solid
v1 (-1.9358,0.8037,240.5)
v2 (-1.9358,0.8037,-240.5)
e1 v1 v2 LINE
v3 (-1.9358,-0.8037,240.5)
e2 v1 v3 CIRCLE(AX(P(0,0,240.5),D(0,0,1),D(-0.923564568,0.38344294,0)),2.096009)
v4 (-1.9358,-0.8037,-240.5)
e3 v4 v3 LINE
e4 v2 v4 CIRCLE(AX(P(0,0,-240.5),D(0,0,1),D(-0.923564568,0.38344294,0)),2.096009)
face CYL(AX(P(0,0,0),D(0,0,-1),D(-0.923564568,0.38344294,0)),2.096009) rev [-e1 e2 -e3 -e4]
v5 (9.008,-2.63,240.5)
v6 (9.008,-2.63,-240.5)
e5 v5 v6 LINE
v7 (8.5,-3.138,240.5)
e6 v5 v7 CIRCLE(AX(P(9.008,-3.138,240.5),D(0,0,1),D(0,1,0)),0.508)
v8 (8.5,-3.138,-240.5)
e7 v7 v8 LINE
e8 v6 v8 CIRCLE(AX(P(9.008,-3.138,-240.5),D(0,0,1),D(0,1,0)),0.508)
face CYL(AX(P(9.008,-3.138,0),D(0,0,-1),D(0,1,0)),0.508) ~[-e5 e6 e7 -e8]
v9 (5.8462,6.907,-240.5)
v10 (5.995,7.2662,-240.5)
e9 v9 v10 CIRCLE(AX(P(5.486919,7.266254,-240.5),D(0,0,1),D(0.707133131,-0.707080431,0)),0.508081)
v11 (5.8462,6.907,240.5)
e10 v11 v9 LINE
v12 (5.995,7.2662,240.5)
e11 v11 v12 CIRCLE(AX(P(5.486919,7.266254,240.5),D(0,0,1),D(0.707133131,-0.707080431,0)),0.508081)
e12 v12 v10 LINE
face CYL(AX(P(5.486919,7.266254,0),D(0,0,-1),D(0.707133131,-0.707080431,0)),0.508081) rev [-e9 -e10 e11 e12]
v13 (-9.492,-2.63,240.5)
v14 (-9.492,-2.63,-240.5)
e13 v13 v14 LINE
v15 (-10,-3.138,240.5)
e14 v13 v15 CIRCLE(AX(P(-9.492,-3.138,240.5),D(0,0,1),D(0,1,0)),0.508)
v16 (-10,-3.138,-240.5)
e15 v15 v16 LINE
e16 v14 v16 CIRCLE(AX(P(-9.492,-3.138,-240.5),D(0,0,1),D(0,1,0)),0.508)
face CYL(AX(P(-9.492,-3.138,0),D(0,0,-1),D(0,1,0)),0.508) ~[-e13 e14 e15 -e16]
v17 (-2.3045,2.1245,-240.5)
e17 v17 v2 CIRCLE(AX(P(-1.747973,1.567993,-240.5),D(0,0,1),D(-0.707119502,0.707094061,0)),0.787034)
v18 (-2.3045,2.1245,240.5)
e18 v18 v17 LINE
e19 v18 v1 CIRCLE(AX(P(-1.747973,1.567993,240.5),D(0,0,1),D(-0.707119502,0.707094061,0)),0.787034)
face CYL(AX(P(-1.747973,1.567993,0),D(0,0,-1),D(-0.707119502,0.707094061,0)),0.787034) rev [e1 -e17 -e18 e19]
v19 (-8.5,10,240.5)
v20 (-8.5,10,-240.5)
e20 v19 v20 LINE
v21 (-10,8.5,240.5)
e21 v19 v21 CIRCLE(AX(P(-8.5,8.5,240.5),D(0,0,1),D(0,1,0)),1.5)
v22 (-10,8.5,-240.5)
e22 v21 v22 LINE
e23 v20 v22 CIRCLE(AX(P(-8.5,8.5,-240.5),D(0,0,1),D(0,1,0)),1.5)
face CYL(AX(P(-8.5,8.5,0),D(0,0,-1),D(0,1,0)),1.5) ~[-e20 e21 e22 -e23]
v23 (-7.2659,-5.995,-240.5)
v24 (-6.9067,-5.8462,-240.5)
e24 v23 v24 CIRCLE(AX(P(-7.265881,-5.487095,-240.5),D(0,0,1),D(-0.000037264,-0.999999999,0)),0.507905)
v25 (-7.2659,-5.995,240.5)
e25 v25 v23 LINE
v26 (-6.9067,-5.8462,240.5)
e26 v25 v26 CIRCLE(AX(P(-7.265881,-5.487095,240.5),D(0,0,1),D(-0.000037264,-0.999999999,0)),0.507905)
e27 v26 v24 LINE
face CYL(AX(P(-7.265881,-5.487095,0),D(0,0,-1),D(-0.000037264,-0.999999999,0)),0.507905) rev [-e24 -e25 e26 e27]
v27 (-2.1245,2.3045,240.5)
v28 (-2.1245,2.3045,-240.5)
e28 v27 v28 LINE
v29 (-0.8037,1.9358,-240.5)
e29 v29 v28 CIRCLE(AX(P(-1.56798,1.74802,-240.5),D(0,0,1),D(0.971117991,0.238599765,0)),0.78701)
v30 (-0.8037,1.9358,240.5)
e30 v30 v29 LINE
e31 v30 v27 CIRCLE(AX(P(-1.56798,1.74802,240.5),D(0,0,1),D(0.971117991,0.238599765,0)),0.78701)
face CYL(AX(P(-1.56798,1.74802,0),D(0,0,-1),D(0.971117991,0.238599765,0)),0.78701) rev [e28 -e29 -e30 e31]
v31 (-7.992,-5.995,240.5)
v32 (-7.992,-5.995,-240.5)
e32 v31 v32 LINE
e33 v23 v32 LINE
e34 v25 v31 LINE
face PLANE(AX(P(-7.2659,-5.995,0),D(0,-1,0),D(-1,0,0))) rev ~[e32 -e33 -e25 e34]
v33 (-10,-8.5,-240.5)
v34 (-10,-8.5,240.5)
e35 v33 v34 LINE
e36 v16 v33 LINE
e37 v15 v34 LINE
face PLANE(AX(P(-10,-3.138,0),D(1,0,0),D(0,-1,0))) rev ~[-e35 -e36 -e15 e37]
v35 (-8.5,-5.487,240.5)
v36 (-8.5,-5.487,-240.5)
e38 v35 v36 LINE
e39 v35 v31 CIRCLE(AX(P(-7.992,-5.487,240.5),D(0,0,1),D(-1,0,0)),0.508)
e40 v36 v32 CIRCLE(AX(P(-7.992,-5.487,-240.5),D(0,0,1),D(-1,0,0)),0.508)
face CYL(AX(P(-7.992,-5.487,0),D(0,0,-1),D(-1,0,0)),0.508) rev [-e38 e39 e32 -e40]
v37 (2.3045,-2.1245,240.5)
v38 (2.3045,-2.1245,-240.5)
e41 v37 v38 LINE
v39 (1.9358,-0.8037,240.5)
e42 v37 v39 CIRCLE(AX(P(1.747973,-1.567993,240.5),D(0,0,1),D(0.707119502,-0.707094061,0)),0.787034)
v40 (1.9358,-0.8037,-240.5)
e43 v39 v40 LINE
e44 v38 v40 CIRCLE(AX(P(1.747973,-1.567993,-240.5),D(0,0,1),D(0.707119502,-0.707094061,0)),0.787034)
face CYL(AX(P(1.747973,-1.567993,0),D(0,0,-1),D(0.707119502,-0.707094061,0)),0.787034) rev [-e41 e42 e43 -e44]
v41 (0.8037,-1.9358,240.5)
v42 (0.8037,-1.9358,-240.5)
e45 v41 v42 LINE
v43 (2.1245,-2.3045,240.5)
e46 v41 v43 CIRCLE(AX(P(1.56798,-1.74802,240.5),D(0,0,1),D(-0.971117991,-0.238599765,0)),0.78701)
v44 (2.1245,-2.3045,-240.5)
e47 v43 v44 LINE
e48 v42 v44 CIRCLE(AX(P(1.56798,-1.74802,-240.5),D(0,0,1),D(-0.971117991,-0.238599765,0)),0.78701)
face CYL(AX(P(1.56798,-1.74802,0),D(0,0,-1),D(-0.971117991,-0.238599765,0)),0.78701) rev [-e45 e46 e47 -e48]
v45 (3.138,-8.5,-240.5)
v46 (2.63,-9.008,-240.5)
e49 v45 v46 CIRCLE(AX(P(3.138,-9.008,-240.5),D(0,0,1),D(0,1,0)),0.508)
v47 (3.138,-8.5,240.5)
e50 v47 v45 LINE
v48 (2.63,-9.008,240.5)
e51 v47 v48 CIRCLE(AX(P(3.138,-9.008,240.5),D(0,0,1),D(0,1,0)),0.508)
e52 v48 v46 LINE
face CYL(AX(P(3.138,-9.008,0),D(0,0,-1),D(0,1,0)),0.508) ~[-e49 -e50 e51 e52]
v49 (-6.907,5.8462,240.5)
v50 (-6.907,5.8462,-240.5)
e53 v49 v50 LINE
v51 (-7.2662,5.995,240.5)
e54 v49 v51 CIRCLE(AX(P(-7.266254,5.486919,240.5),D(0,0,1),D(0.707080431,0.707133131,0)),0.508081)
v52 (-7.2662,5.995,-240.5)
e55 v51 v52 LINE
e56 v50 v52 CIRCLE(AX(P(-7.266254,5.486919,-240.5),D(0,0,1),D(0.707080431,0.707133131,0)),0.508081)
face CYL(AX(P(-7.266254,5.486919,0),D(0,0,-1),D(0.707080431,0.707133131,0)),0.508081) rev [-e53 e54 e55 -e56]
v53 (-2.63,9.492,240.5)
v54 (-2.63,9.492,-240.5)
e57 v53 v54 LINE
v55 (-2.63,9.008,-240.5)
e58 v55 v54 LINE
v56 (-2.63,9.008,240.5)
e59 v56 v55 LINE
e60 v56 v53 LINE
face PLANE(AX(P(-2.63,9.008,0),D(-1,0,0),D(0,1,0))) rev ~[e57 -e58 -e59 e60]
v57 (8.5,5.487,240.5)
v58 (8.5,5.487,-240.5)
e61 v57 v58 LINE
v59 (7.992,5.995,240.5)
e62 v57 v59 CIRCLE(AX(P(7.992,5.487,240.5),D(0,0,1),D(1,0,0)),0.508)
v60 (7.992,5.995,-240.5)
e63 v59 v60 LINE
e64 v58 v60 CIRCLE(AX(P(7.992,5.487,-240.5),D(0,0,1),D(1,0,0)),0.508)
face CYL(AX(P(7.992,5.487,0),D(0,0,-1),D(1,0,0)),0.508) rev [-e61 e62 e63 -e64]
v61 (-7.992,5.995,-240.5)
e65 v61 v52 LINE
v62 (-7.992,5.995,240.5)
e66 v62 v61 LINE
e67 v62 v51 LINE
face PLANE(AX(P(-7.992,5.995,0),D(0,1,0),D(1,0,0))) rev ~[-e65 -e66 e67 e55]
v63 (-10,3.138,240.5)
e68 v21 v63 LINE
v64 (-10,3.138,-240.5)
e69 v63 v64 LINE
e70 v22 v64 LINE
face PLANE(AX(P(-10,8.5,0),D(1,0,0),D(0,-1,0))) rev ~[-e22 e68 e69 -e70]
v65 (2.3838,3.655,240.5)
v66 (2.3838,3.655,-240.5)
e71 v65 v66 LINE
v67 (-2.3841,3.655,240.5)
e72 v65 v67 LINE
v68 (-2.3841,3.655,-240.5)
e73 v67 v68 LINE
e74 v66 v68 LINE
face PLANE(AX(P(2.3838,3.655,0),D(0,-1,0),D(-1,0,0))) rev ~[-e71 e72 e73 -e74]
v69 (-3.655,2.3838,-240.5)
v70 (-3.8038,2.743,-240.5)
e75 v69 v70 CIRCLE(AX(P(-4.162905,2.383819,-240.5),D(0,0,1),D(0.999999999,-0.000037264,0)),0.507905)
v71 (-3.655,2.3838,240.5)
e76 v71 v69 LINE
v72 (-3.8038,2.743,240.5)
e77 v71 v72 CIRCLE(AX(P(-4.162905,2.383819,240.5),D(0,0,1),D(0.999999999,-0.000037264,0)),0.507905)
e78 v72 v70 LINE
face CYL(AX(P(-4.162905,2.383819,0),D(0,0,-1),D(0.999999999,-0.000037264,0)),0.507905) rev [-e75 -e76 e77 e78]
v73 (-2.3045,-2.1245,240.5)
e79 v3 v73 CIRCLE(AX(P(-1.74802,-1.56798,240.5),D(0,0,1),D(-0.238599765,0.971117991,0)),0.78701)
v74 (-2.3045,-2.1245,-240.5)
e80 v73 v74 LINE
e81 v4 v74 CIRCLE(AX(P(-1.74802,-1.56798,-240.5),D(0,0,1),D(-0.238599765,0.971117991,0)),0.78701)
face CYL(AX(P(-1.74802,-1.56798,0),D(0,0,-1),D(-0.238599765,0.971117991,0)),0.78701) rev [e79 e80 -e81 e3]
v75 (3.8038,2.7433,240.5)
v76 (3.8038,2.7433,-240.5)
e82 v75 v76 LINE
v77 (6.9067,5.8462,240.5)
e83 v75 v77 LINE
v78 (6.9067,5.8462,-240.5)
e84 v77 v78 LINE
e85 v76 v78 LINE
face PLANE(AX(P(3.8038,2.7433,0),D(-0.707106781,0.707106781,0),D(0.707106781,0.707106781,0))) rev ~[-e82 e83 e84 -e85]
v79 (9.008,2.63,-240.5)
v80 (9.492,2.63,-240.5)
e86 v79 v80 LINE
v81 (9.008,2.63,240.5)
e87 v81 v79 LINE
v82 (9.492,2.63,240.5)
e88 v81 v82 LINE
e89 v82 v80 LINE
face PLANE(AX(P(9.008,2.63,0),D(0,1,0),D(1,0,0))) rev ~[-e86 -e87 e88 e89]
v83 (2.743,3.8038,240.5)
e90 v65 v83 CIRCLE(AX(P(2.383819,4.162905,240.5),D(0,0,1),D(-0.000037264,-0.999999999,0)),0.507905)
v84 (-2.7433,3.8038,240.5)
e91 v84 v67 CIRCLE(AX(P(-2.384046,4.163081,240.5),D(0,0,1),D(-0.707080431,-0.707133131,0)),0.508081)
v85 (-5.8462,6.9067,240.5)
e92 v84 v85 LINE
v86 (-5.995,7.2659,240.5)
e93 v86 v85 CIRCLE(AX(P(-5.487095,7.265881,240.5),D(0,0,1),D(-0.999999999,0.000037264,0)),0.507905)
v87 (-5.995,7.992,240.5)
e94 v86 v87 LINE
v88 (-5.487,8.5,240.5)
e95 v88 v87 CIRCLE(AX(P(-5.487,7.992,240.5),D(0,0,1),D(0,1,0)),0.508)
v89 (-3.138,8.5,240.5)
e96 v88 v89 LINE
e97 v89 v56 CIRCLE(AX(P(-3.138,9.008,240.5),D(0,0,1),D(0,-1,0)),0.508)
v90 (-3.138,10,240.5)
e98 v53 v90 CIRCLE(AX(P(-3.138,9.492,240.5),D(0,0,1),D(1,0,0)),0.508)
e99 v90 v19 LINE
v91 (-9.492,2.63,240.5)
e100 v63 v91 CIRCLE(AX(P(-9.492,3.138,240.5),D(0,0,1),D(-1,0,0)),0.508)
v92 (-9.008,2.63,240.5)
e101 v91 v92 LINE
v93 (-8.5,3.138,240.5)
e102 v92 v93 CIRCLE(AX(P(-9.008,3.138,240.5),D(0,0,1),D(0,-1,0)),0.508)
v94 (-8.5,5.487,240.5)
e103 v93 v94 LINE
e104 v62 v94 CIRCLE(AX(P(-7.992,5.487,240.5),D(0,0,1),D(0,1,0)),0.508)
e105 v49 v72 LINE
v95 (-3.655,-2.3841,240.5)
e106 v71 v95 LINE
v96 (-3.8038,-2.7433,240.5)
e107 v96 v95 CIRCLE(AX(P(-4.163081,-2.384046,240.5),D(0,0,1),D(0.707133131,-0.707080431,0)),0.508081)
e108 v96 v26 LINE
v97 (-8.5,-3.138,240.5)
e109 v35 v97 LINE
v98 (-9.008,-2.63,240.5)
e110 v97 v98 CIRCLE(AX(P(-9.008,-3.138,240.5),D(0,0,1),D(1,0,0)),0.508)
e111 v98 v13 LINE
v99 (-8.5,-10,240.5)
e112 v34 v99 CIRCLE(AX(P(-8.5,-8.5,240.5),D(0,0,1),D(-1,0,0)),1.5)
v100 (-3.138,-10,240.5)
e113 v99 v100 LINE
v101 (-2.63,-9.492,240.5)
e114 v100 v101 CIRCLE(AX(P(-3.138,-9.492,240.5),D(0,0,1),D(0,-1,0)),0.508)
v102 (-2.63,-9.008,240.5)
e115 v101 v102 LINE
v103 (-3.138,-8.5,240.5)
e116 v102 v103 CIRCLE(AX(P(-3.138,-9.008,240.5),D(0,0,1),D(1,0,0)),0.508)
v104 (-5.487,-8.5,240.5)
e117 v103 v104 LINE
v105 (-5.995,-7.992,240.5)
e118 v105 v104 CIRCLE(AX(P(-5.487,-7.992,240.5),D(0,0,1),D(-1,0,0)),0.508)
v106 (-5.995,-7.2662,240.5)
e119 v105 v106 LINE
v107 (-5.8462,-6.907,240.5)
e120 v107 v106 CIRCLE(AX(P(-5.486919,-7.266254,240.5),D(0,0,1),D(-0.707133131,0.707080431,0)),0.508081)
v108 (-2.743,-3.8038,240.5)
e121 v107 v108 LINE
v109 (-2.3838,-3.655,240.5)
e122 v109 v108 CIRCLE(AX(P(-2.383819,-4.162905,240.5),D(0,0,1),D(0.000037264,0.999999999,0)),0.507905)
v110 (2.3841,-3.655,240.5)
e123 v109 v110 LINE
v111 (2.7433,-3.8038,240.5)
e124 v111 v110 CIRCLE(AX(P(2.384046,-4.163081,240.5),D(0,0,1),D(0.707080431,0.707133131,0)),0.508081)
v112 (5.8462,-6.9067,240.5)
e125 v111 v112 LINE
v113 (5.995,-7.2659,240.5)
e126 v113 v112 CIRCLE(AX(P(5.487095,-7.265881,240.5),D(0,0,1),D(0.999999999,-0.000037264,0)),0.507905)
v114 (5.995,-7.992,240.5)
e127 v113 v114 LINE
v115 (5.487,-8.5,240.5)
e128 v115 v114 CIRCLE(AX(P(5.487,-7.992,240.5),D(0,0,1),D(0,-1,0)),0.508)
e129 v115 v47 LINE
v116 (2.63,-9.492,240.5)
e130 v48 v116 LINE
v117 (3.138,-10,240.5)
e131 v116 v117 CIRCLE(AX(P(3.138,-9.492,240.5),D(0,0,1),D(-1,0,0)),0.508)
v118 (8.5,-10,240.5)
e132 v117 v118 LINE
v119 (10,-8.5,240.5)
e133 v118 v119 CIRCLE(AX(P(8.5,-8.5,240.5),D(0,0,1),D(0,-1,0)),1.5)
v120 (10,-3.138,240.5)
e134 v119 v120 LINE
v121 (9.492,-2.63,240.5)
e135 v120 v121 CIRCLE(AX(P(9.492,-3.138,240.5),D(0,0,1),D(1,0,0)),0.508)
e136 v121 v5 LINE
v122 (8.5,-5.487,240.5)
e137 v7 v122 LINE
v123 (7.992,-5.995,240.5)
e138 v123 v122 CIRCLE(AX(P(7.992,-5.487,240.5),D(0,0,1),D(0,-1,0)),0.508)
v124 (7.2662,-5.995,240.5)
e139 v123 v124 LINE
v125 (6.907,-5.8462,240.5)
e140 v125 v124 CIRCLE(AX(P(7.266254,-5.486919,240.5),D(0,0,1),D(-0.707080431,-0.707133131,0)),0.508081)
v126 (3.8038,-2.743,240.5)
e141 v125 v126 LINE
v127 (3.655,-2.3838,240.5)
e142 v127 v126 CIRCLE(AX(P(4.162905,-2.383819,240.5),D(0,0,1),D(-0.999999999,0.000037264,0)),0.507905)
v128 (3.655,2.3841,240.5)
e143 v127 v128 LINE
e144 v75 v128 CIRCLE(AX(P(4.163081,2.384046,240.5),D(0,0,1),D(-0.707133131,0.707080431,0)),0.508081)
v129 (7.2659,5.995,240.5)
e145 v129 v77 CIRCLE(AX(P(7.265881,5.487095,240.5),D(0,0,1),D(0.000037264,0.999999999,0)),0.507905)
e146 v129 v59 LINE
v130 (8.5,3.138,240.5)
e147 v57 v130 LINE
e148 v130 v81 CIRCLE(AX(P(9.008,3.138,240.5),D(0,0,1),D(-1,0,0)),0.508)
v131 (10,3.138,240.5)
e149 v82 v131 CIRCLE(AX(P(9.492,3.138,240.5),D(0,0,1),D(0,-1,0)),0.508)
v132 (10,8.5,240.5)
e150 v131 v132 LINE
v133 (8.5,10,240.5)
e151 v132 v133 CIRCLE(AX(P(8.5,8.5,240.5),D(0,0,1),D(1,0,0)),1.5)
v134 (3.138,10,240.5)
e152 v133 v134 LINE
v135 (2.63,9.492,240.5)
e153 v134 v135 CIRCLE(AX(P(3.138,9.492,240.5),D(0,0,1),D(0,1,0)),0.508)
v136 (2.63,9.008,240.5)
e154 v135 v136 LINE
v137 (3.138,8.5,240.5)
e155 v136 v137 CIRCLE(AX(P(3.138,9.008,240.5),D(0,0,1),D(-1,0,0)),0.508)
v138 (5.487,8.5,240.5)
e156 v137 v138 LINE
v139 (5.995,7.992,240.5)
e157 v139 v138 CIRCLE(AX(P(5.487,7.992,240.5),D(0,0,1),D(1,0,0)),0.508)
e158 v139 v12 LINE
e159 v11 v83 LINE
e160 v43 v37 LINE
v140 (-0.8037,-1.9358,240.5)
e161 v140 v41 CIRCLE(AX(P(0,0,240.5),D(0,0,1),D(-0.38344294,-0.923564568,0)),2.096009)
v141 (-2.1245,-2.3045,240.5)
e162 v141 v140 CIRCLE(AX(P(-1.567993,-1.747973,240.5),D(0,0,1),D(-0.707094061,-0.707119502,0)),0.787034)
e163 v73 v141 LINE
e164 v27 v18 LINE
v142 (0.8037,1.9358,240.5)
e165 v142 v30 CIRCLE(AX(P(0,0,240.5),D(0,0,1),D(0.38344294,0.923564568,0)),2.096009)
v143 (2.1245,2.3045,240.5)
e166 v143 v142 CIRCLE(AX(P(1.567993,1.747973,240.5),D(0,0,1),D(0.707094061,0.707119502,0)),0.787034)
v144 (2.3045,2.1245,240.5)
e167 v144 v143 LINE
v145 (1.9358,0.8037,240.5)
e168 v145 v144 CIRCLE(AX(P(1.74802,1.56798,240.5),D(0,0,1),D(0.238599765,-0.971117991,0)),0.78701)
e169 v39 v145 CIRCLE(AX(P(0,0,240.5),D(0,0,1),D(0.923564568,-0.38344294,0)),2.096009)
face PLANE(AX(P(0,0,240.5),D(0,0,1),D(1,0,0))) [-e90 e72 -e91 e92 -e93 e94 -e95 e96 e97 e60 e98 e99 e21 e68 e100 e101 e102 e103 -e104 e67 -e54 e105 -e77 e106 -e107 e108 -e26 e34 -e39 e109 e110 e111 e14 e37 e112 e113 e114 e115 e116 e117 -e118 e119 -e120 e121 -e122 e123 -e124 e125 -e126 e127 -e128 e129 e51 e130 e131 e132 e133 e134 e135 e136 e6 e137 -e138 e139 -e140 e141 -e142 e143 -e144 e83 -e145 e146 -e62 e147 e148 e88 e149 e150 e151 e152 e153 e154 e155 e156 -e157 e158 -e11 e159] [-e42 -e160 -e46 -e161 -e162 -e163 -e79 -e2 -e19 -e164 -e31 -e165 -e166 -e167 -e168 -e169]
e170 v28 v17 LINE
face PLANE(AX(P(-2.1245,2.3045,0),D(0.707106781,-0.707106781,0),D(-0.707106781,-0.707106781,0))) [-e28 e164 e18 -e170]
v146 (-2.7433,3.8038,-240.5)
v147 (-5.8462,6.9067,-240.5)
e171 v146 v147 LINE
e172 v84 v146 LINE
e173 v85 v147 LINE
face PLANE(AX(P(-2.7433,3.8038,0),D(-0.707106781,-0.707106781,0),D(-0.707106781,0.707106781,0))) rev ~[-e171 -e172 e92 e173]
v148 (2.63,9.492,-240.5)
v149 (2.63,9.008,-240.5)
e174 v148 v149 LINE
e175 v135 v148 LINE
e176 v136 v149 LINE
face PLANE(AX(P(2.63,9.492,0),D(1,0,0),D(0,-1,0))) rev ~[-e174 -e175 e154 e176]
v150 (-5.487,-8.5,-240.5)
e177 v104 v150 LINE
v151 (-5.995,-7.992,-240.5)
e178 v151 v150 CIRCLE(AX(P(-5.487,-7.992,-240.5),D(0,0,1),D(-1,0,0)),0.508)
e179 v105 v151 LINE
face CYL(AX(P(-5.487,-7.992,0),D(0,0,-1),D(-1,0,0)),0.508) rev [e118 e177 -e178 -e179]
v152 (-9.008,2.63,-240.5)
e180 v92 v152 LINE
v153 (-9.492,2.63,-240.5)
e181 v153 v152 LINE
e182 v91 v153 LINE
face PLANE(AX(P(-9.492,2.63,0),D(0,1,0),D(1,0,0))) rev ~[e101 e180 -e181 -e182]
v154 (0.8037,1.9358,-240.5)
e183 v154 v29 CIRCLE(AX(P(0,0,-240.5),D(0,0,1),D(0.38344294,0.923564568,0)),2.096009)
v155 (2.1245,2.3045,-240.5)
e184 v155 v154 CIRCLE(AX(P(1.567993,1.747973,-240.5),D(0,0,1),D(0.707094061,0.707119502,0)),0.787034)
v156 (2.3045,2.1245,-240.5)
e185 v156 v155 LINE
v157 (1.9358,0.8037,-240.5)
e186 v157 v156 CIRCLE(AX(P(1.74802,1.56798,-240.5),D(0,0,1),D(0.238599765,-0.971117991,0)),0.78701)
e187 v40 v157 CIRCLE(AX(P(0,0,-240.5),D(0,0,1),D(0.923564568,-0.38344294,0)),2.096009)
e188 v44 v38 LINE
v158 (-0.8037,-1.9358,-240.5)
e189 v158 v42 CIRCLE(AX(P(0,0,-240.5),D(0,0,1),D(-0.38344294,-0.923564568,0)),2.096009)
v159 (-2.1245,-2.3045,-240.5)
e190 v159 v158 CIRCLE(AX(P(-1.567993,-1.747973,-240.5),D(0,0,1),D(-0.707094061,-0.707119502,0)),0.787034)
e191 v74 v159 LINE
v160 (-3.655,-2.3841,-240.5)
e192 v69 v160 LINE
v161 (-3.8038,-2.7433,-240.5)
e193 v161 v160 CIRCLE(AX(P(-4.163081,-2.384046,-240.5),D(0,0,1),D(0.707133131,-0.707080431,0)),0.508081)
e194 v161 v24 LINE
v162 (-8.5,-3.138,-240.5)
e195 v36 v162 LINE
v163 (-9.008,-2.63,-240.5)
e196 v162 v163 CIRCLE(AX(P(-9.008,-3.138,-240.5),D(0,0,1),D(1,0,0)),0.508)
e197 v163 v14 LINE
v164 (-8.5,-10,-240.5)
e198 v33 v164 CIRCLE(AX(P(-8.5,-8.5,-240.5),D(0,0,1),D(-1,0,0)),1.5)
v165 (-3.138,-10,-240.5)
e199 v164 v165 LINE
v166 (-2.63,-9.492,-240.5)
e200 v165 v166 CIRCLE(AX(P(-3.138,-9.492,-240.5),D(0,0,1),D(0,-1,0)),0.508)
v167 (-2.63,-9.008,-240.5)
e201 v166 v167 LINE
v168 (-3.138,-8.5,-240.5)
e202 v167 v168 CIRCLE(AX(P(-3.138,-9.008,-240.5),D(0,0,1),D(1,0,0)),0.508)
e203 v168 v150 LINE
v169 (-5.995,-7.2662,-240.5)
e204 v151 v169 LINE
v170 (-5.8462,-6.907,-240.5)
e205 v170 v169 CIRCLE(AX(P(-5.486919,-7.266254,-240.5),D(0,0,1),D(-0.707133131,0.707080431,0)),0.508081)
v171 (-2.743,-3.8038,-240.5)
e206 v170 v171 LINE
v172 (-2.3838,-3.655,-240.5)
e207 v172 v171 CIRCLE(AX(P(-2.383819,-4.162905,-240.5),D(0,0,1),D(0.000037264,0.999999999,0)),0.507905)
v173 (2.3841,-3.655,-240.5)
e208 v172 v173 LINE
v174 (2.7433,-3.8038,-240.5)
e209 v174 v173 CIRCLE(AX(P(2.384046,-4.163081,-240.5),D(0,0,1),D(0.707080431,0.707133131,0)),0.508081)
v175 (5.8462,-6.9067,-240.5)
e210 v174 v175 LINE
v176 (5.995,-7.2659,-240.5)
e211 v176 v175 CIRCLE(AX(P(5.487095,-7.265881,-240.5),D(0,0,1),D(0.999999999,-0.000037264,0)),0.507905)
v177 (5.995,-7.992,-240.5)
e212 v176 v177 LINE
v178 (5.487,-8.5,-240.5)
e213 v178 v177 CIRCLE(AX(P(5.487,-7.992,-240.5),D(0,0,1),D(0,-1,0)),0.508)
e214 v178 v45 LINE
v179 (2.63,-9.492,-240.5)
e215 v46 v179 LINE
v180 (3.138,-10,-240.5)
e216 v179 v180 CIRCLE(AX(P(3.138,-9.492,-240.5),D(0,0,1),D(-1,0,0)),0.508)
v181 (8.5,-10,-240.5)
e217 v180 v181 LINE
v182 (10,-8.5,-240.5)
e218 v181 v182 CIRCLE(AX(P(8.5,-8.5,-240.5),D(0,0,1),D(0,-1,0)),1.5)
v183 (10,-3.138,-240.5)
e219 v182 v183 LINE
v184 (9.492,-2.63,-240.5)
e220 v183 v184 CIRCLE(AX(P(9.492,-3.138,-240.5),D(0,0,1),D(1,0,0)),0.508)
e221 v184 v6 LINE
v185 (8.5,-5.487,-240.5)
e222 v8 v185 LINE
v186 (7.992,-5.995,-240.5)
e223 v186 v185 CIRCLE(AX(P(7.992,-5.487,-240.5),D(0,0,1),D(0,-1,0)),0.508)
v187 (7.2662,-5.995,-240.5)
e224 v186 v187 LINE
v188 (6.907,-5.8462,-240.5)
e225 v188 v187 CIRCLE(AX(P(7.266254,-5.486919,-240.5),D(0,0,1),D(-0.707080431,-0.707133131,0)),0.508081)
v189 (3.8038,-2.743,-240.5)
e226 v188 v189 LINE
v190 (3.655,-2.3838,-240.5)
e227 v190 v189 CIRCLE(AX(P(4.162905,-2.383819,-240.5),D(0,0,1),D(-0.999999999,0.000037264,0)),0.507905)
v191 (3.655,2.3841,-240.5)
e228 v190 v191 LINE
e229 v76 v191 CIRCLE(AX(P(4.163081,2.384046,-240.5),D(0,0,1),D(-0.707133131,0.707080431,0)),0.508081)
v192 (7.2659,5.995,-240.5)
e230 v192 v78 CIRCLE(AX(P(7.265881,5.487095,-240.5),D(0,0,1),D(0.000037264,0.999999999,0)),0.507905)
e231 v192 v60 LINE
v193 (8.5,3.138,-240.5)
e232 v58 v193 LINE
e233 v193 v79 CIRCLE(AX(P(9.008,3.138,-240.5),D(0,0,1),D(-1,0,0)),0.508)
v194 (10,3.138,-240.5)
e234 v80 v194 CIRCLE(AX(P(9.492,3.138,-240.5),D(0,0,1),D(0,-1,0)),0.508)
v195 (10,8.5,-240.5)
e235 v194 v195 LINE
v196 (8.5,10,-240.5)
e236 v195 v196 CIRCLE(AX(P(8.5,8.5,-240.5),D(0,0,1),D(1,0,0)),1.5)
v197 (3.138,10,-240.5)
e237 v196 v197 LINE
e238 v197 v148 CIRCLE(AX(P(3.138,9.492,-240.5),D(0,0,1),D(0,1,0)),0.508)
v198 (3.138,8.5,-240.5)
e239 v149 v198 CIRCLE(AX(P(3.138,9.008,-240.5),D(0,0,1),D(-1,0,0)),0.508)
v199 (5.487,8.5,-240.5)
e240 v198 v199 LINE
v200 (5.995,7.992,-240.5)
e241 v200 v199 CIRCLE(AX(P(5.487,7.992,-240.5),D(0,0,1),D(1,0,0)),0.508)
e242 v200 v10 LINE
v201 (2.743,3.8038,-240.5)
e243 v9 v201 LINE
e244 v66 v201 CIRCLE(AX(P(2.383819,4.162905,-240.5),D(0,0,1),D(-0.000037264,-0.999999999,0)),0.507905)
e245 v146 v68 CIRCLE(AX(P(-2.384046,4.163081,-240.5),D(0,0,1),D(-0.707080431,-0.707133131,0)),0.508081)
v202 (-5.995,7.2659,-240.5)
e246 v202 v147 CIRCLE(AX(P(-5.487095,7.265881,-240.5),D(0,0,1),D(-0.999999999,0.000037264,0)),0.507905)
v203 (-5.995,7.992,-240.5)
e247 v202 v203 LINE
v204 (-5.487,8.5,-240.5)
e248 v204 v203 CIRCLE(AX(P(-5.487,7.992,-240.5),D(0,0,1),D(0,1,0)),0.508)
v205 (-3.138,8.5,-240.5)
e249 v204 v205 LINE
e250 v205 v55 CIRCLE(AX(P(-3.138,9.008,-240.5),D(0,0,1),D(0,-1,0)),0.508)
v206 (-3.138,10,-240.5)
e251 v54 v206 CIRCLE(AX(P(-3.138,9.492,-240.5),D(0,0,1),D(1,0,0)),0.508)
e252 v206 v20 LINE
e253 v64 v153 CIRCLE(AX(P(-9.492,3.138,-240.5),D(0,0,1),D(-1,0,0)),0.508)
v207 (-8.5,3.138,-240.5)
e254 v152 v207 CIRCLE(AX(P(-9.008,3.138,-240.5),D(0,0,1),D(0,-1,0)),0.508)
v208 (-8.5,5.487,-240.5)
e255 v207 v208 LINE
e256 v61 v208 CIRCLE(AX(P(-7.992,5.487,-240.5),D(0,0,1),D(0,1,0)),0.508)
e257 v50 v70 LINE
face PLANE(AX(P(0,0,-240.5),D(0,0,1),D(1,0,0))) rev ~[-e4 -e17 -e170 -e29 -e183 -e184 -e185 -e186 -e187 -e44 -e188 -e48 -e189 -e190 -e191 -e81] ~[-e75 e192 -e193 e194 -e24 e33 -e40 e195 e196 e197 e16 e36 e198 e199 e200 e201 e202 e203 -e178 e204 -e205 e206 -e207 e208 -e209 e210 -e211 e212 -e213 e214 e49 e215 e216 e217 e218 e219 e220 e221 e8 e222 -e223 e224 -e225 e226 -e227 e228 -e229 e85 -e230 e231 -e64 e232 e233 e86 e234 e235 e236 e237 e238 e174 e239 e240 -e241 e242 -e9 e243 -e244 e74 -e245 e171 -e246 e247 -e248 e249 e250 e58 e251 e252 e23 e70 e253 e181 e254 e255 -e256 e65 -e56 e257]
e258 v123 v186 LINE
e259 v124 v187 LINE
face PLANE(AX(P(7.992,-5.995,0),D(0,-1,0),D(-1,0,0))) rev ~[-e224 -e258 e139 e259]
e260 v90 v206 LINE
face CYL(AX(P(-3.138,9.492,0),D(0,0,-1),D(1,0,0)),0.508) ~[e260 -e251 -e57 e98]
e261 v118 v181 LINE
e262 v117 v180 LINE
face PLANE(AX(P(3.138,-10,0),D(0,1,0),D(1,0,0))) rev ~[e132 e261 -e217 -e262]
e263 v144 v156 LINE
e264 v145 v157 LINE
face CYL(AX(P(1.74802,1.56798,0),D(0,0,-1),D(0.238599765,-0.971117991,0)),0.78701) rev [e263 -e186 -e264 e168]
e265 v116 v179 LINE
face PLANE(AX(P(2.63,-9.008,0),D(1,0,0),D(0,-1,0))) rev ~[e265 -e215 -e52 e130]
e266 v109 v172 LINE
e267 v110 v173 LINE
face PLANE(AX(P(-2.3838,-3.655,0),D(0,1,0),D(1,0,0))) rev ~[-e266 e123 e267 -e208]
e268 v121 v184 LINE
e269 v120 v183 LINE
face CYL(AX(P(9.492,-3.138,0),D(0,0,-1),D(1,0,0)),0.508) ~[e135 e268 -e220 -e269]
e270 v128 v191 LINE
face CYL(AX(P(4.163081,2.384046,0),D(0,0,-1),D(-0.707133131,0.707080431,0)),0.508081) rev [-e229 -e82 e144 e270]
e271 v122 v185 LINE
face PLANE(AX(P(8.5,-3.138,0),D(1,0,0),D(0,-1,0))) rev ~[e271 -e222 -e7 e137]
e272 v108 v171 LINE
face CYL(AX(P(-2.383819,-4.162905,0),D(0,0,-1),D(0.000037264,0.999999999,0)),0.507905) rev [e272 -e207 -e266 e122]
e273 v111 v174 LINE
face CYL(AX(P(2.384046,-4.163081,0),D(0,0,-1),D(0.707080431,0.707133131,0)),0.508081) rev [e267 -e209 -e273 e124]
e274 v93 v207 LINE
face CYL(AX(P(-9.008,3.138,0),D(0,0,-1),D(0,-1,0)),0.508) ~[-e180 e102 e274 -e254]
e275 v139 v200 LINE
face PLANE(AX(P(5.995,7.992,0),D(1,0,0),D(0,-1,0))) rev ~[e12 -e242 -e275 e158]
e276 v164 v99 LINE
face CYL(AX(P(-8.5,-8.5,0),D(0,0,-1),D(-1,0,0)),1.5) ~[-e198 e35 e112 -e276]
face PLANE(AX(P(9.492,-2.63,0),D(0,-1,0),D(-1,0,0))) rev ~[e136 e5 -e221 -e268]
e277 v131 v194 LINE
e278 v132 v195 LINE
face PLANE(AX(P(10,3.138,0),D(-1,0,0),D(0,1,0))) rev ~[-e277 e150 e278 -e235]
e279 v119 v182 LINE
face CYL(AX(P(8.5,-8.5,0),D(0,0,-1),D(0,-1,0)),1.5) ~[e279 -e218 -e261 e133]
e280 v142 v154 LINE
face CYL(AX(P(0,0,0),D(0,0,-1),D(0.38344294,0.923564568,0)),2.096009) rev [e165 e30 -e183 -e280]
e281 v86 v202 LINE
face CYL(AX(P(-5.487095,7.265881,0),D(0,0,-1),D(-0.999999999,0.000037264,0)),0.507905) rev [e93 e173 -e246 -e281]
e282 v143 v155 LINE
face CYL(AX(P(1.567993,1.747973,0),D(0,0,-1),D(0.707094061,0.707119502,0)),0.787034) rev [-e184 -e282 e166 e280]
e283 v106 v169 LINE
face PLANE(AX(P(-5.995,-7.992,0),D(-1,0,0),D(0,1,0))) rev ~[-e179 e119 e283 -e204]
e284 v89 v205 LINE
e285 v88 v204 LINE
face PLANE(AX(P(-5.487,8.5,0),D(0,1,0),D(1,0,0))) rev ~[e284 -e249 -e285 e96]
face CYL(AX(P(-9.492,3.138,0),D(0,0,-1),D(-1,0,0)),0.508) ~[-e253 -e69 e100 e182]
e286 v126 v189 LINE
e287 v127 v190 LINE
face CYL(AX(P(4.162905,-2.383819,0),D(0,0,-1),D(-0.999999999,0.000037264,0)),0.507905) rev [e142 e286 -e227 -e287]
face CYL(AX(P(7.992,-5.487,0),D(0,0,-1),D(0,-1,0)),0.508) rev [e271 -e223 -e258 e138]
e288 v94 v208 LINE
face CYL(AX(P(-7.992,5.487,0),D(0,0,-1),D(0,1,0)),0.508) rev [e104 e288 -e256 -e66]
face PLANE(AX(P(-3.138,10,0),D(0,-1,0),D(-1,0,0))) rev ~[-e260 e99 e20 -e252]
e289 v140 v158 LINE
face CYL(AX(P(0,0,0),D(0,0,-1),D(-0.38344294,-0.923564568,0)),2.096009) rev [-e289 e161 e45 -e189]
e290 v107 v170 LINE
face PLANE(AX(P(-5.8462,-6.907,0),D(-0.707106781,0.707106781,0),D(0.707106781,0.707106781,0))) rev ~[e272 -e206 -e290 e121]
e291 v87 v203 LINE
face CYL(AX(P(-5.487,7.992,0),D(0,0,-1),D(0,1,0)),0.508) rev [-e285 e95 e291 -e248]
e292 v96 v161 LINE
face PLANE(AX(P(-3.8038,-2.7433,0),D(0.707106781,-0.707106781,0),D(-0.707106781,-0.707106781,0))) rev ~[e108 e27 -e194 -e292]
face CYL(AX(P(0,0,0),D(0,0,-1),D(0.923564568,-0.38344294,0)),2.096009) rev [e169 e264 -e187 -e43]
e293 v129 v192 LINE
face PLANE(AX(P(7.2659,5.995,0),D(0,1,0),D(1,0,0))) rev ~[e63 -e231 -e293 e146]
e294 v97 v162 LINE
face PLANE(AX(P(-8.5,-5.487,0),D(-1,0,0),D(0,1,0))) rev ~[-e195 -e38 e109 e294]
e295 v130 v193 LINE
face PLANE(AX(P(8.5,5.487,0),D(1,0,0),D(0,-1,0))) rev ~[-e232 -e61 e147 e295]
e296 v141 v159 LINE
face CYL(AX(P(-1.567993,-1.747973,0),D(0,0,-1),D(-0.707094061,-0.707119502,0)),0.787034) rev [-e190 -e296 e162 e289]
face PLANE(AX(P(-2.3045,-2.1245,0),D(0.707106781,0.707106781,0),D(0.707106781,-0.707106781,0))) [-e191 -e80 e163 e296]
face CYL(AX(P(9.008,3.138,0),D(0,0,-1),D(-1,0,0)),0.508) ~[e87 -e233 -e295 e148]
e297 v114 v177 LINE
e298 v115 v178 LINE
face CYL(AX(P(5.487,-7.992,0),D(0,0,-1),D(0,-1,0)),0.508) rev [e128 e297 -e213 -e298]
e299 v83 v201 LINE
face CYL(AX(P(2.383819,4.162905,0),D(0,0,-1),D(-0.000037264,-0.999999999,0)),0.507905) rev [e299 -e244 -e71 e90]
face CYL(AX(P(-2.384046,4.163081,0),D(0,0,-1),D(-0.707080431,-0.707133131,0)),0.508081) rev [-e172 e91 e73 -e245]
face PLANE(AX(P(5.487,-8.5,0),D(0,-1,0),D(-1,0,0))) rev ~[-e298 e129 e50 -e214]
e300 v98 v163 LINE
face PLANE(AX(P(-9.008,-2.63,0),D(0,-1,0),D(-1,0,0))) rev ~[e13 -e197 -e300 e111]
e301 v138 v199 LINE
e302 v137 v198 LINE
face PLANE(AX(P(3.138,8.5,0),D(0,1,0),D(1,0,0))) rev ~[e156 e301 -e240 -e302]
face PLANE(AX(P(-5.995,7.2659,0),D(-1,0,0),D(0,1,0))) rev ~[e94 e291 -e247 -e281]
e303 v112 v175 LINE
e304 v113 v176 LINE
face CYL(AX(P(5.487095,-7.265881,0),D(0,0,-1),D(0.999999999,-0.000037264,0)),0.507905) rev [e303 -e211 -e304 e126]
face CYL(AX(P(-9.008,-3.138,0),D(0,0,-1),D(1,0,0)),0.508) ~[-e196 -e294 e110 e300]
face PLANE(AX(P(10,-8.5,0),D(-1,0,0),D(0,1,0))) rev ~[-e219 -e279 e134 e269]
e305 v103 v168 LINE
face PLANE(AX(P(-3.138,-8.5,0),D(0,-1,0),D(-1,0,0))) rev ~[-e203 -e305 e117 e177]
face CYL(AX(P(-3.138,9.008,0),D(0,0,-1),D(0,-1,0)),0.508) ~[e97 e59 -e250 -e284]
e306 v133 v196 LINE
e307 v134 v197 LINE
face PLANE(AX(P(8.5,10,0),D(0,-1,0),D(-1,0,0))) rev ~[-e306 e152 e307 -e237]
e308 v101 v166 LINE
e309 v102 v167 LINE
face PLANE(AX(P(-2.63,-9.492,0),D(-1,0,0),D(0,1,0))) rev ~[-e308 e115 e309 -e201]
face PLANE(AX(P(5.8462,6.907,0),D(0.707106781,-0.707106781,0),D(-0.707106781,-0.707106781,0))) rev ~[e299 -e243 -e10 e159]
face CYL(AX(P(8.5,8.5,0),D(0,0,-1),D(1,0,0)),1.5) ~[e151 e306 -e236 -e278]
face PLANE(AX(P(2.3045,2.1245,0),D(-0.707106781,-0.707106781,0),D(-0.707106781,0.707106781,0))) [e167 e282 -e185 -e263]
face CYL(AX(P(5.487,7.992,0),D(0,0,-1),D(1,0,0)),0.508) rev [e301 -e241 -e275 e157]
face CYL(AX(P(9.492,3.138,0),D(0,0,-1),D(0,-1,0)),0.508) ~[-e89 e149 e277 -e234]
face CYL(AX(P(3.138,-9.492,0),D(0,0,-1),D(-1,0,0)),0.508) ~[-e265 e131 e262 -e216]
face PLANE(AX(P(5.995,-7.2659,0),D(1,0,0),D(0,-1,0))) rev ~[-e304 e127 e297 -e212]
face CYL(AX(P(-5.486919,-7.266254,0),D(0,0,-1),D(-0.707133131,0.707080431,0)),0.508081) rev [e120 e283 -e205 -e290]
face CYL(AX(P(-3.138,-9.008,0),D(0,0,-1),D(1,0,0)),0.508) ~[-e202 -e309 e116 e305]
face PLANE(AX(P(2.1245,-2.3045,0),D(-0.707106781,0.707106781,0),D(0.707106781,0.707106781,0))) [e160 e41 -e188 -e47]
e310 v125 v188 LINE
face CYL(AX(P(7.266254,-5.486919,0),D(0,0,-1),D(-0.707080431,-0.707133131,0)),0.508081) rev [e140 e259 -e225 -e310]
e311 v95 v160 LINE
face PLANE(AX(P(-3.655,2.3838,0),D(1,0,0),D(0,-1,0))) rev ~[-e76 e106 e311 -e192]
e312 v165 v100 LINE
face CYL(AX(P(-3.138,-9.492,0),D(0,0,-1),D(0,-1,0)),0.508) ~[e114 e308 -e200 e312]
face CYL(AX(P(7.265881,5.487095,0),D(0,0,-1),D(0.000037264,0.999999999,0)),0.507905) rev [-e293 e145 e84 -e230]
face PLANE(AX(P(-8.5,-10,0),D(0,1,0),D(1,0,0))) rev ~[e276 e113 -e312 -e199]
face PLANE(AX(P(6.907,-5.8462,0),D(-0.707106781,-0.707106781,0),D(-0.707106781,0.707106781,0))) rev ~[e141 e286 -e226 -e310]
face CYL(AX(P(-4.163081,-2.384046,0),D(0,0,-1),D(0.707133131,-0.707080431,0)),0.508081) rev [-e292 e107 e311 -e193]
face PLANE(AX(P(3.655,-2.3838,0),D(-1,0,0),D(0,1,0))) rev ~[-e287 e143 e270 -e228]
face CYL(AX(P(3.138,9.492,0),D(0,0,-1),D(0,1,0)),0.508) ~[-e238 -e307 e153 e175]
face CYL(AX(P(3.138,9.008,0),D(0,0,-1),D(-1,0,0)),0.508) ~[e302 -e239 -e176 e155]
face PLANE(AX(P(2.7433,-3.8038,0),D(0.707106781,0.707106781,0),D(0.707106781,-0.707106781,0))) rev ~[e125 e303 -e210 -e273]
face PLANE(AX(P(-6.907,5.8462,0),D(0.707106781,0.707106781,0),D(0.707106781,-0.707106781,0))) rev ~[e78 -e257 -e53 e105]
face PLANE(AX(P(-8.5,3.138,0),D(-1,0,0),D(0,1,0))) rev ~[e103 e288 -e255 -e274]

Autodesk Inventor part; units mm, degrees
ref_plane "YZ Plane" through (0, 0, 0) normal (1, 0, 0) x (0, 1, 0)
ref_plane "XZ Plane" through (0, 0, 0) normal (0, 1, 0) x (-1, 0, 0)
ref_plane "XY Plane" through (0, 0, 0) normal (0, 0, 1) x (1, 0, 0)
sketch "Sketch1" plane through (0, 0, 0) normal (0, 0, 1) x (1, 0, 0)
  arc A0 (-10, -8.5) -> (-8.5, -10) centre (-8.5, -8.5) ccw
  line L0 (-8.5, -10) -> (-3.138, -10)
  arc A1 (-3.138, -10) -> (-2.63, -9.492) centre (-3.138, -9.492) ccw
  line L1 (-2.63, -9.492) -> (-2.63, -9.008)
  arc A2 (-2.63, -9.008) -> (-3.138, -8.5) centre (-3.138, -9.008) ccw
  line L2 (-3.138, -8.5) -> (-5.487, -8.5)
  arc A3 (-5.995, -7.992) -> (-5.487, -8.5) centre (-5.487, -7.992) ccw
  line L3 (-5.995, -7.992) -> (-5.995, -7.2662)
  arc A4 (-5.8462, -6.907) -> (-5.995, -7.2662) centre (-5.487, -7.2662) ccw
  line L4 (-5.8462, -6.907) -> (-2.743, -3.8038)
  arc A5 (-2.3838, -3.655) -> (-2.743, -3.8038) centre (-2.3838, -4.163) ccw
  line L5 (-2.3838, -3.655) -> (2.3841, -3.655)
  arc A6 (2.7433, -3.8038) -> (2.3841, -3.655) centre (2.3841, -4.163) ccw
  line L6 (2.7433, -3.8038) -> (5.8462, -6.9067)
  arc A7 (5.995, -7.2659) -> (5.8462, -6.9067) centre (5.487, -7.2659) ccw
  line L7 (5.995, -7.2659) -> (5.995, -7.992)
  arc A8 (5.487, -8.5) -> (5.995, -7.992) centre (5.487, -7.992) ccw
  line L8 (5.487, -8.5) -> (3.138, -8.5)
  arc A9 (3.138, -8.5) -> (2.63, -9.008) centre (3.138, -9.008) ccw
  line L9 (2.63, -9.008) -> (2.63, -9.492)
  arc A10 (2.63, -9.492) -> (3.138, -10) centre (3.138, -9.492) ccw
  line L10 (3.138, -10) -> (8.5, -10)
  arc A11 (8.5, -10) -> (10, -8.5) centre (8.5, -8.5) ccw
  line L11 (10, -8.5) -> (10, -3.138)
  arc A12 (10, -3.138) -> (9.492, -2.63) centre (9.492, -3.138) ccw
  line L12 (9.492, -2.63) -> (9.008, -2.63)
  arc A13 (9.008, -2.63) -> (8.5, -3.138) centre (9.008, -3.138) ccw
  line L13 (8.5, -3.138) -> (8.5, -5.487)
  arc A14 (7.992, -5.995) -> (8.5, -5.487) centre (7.992, -5.487) ccw
  line L14 (7.992, -5.995) -> (7.2662, -5.995)
  arc A15 (6.907, -5.8462) -> (7.2662, -5.995) centre (7.2662, -5.487) ccw
  line L15 (6.907, -5.8462) -> (3.8038, -2.743)
  arc A16 (3.655, -2.3838) -> (3.8038, -2.743) centre (4.163, -2.3838) ccw
  line L16 (3.655, -2.3838) -> (3.655, 2.3841)
  arc A17 (3.8038, 2.7433) -> (3.655, 2.3841) centre (4.163, 2.3841) ccw
  line L17 (3.8038, 2.7433) -> (6.9067, 5.8462)
  arc A18 (7.2659, 5.995) -> (6.9067, 5.8462) centre (7.2659, 5.487) ccw
  line L18 (7.2659, 5.995) -> (7.992, 5.995)
  arc A19 (8.5, 5.487) -> (7.992, 5.995) centre (7.992, 5.487) ccw
  line L19 (8.5, 5.487) -> (8.5, 3.138)
  arc A20 (8.5, 3.138) -> (9.008, 2.63) centre (9.008, 3.138) ccw
  line L20 (9.008, 2.63) -> (9.492, 2.63)
  arc A21 (9.492, 2.63) -> (10, 3.138) centre (9.492, 3.138) ccw
  line L21 (10, 3.138) -> (10, 8.5)
  arc A22 (10, 8.5) -> (8.5, 10) centre (8.5, 8.5) ccw
  line L22 (8.5, 10) -> (3.138, 10)
  arc A23 (3.138, 10) -> (2.63, 9.492) centre (3.138, 9.492) ccw
  line L23 (2.63, 9.492) -> (2.63, 9.008)
  arc A24 (2.63, 9.008) -> (3.138, 8.5) centre (3.138, 9.008) ccw
  line L24 (3.138, 8.5) -> (5.487, 8.5)
  arc A25 (5.995, 7.992) -> (5.487, 8.5) centre (5.487, 7.992) ccw
  line L25 (5.995, 7.992) -> (5.995, 7.2662)
  arc A26 (5.8462, 6.907) -> (5.995, 7.2662) centre (5.487, 7.2662) ccw
  line L26 (5.8462, 6.907) -> (2.743, 3.8038)
  arc A27 (2.3838, 3.655) -> (2.743, 3.8038) centre (2.3838, 4.163) ccw
  line L27 (2.3838, 3.655) -> (-2.3841, 3.655)
  arc A28 (-2.7433, 3.8038) -> (-2.3841, 3.655) centre (-2.3841, 4.163) ccw
  line L28 (-2.7433, 3.8038) -> (-5.8462, 6.9067)
  arc A29 (-5.995, 7.2659) -> (-5.8462, 6.9067) centre (-5.487, 7.2659) ccw
  line L29 (-5.995, 7.2659) -> (-5.995, 7.992)
  arc A30 (-5.487, 8.5) -> (-5.995, 7.992) centre (-5.487, 7.992) ccw
  line L30 (-5.487, 8.5) -> (-3.138, 8.5)
  arc A31 (-3.138, 8.5) -> (-2.63, 9.008) centre (-3.138, 9.008) ccw
  line L31 (-2.63, 9.008) -> (-2.63, 9.492)
  arc A32 (-2.63, 9.492) -> (-3.138, 10) centre (-3.138, 9.492) ccw
  line L32 (-3.138, 10) -> (-8.5, 10)
  arc A33 (-8.5, 10) -> (-10, 8.5) centre (-8.5, 8.5) ccw
  line L33 (-10, 8.5) -> (-10, 3.138)
  arc A34 (-10, 3.138) -> (-9.492, 2.63) centre (-9.492, 3.138) ccw
  line L34 (-9.492, 2.63) -> (-9.008, 2.63)
  arc A35 (-9.008, 2.63) -> (-8.5, 3.138) centre (-9.008, 3.138) ccw
  line L35 (-8.5, 3.138) -> (-8.5, 5.487)
  arc A36 (-7.992, 5.995) -> (-8.5, 5.487) centre (-7.992, 5.487) ccw
  line L36 (-7.992, 5.995) -> (-7.2662, 5.995)
  arc A37 (-6.907, 5.8462) -> (-7.2662, 5.995) centre (-7.2662, 5.487) ccw
  line L37 (-6.907, 5.8462) -> (-3.8038, 2.743)
  arc A38 (-3.655, 2.3838) -> (-3.8038, 2.743) centre (-4.163, 2.3838) ccw
  line L38 (-3.655, 2.3838) -> (-3.655, -2.3841)
  arc A39 (-3.8038, -2.7433) -> (-3.655, -2.3841) centre (-4.163, -2.3841) ccw
  line L39 (-3.8038, -2.7433) -> (-6.9067, -5.8462)
  arc A40 (-7.2659, -5.995) -> (-6.9067, -5.8462) centre (-7.2659, -5.487) ccw
  line L40 (-7.2659, -5.995) -> (-7.992, -5.995)
  arc A41 (-8.5, -5.487) -> (-7.992, -5.995) centre (-7.992, -5.487) ccw
  line L41 (-8.5, -5.487) -> (-8.5, -3.138)
  arc A42 (-8.5, -3.138) -> (-9.008, -2.63) centre (-9.008, -3.138) ccw
  line L42 (-9.008, -2.63) -> (-9.492, -2.63)
  arc A43 (-9.492, -2.63) -> (-10, -3.138) centre (-9.492, -3.138) ccw
  line L43 (-10, -3.138) -> (-10, -8.5)
  arc A44 (-1.9358, -0.8037) -> (-2.3045, -2.1245) centre (-1.748, -1.568) ccw
  line L44 (-2.3045, -2.1245) -> (-2.1245, -2.3045)
  arc A45 (-2.1245, -2.3045) -> (-0.8037, -1.9358) centre (-1.568, -1.748) ccw
  arc A46 (-0.8037, -1.9358) -> (0.8037, -1.9358) centre (0, 0) ccw
  arc A47 (0.8037, -1.9358) -> (2.1245, -2.3045) centre (1.568, -1.748) ccw
  line L45 (2.1245, -2.3045) -> (2.3045, -2.1245)
  arc A48 (2.3045, -2.1245) -> (1.9358, -0.8037) centre (1.748, -1.568) ccw
  arc A49 (1.9358, -0.8037) -> (1.9358, 0.8037) centre (0, 0) ccw
  arc A50 (1.9358, 0.8037) -> (2.3045, 2.1245) centre (1.748, 1.568) ccw
  line L46 (2.3045, 2.1245) -> (2.1245, 2.3045)
  arc A51 (2.1245, 2.3045) -> (0.8037, 1.9358) centre (1.568, 1.748) ccw
  arc A52 (0.8037, 1.9358) -> (-0.8037, 1.9358) centre (0, 0) ccw
  arc A53 (-0.8037, 1.9358) -> (-2.1245, 2.3045) centre (-1.568, 1.748) ccw
  line L47 (-2.1245, 2.3045) -> (-2.3045, 2.1245)
  arc A54 (-2.3045, 2.1245) -> (-1.9358, 0.8037) centre (-1.748, 1.568) ccw
  arc A55 (-1.9358, 0.8037) -> (-1.9358, -0.8037) centre (0, 0) ccw
  point P0 (0, 0)
extrude "Extrusion1" add sketch "Sketch1" along normal mid plane 481
properties part number "20-2020-285"
